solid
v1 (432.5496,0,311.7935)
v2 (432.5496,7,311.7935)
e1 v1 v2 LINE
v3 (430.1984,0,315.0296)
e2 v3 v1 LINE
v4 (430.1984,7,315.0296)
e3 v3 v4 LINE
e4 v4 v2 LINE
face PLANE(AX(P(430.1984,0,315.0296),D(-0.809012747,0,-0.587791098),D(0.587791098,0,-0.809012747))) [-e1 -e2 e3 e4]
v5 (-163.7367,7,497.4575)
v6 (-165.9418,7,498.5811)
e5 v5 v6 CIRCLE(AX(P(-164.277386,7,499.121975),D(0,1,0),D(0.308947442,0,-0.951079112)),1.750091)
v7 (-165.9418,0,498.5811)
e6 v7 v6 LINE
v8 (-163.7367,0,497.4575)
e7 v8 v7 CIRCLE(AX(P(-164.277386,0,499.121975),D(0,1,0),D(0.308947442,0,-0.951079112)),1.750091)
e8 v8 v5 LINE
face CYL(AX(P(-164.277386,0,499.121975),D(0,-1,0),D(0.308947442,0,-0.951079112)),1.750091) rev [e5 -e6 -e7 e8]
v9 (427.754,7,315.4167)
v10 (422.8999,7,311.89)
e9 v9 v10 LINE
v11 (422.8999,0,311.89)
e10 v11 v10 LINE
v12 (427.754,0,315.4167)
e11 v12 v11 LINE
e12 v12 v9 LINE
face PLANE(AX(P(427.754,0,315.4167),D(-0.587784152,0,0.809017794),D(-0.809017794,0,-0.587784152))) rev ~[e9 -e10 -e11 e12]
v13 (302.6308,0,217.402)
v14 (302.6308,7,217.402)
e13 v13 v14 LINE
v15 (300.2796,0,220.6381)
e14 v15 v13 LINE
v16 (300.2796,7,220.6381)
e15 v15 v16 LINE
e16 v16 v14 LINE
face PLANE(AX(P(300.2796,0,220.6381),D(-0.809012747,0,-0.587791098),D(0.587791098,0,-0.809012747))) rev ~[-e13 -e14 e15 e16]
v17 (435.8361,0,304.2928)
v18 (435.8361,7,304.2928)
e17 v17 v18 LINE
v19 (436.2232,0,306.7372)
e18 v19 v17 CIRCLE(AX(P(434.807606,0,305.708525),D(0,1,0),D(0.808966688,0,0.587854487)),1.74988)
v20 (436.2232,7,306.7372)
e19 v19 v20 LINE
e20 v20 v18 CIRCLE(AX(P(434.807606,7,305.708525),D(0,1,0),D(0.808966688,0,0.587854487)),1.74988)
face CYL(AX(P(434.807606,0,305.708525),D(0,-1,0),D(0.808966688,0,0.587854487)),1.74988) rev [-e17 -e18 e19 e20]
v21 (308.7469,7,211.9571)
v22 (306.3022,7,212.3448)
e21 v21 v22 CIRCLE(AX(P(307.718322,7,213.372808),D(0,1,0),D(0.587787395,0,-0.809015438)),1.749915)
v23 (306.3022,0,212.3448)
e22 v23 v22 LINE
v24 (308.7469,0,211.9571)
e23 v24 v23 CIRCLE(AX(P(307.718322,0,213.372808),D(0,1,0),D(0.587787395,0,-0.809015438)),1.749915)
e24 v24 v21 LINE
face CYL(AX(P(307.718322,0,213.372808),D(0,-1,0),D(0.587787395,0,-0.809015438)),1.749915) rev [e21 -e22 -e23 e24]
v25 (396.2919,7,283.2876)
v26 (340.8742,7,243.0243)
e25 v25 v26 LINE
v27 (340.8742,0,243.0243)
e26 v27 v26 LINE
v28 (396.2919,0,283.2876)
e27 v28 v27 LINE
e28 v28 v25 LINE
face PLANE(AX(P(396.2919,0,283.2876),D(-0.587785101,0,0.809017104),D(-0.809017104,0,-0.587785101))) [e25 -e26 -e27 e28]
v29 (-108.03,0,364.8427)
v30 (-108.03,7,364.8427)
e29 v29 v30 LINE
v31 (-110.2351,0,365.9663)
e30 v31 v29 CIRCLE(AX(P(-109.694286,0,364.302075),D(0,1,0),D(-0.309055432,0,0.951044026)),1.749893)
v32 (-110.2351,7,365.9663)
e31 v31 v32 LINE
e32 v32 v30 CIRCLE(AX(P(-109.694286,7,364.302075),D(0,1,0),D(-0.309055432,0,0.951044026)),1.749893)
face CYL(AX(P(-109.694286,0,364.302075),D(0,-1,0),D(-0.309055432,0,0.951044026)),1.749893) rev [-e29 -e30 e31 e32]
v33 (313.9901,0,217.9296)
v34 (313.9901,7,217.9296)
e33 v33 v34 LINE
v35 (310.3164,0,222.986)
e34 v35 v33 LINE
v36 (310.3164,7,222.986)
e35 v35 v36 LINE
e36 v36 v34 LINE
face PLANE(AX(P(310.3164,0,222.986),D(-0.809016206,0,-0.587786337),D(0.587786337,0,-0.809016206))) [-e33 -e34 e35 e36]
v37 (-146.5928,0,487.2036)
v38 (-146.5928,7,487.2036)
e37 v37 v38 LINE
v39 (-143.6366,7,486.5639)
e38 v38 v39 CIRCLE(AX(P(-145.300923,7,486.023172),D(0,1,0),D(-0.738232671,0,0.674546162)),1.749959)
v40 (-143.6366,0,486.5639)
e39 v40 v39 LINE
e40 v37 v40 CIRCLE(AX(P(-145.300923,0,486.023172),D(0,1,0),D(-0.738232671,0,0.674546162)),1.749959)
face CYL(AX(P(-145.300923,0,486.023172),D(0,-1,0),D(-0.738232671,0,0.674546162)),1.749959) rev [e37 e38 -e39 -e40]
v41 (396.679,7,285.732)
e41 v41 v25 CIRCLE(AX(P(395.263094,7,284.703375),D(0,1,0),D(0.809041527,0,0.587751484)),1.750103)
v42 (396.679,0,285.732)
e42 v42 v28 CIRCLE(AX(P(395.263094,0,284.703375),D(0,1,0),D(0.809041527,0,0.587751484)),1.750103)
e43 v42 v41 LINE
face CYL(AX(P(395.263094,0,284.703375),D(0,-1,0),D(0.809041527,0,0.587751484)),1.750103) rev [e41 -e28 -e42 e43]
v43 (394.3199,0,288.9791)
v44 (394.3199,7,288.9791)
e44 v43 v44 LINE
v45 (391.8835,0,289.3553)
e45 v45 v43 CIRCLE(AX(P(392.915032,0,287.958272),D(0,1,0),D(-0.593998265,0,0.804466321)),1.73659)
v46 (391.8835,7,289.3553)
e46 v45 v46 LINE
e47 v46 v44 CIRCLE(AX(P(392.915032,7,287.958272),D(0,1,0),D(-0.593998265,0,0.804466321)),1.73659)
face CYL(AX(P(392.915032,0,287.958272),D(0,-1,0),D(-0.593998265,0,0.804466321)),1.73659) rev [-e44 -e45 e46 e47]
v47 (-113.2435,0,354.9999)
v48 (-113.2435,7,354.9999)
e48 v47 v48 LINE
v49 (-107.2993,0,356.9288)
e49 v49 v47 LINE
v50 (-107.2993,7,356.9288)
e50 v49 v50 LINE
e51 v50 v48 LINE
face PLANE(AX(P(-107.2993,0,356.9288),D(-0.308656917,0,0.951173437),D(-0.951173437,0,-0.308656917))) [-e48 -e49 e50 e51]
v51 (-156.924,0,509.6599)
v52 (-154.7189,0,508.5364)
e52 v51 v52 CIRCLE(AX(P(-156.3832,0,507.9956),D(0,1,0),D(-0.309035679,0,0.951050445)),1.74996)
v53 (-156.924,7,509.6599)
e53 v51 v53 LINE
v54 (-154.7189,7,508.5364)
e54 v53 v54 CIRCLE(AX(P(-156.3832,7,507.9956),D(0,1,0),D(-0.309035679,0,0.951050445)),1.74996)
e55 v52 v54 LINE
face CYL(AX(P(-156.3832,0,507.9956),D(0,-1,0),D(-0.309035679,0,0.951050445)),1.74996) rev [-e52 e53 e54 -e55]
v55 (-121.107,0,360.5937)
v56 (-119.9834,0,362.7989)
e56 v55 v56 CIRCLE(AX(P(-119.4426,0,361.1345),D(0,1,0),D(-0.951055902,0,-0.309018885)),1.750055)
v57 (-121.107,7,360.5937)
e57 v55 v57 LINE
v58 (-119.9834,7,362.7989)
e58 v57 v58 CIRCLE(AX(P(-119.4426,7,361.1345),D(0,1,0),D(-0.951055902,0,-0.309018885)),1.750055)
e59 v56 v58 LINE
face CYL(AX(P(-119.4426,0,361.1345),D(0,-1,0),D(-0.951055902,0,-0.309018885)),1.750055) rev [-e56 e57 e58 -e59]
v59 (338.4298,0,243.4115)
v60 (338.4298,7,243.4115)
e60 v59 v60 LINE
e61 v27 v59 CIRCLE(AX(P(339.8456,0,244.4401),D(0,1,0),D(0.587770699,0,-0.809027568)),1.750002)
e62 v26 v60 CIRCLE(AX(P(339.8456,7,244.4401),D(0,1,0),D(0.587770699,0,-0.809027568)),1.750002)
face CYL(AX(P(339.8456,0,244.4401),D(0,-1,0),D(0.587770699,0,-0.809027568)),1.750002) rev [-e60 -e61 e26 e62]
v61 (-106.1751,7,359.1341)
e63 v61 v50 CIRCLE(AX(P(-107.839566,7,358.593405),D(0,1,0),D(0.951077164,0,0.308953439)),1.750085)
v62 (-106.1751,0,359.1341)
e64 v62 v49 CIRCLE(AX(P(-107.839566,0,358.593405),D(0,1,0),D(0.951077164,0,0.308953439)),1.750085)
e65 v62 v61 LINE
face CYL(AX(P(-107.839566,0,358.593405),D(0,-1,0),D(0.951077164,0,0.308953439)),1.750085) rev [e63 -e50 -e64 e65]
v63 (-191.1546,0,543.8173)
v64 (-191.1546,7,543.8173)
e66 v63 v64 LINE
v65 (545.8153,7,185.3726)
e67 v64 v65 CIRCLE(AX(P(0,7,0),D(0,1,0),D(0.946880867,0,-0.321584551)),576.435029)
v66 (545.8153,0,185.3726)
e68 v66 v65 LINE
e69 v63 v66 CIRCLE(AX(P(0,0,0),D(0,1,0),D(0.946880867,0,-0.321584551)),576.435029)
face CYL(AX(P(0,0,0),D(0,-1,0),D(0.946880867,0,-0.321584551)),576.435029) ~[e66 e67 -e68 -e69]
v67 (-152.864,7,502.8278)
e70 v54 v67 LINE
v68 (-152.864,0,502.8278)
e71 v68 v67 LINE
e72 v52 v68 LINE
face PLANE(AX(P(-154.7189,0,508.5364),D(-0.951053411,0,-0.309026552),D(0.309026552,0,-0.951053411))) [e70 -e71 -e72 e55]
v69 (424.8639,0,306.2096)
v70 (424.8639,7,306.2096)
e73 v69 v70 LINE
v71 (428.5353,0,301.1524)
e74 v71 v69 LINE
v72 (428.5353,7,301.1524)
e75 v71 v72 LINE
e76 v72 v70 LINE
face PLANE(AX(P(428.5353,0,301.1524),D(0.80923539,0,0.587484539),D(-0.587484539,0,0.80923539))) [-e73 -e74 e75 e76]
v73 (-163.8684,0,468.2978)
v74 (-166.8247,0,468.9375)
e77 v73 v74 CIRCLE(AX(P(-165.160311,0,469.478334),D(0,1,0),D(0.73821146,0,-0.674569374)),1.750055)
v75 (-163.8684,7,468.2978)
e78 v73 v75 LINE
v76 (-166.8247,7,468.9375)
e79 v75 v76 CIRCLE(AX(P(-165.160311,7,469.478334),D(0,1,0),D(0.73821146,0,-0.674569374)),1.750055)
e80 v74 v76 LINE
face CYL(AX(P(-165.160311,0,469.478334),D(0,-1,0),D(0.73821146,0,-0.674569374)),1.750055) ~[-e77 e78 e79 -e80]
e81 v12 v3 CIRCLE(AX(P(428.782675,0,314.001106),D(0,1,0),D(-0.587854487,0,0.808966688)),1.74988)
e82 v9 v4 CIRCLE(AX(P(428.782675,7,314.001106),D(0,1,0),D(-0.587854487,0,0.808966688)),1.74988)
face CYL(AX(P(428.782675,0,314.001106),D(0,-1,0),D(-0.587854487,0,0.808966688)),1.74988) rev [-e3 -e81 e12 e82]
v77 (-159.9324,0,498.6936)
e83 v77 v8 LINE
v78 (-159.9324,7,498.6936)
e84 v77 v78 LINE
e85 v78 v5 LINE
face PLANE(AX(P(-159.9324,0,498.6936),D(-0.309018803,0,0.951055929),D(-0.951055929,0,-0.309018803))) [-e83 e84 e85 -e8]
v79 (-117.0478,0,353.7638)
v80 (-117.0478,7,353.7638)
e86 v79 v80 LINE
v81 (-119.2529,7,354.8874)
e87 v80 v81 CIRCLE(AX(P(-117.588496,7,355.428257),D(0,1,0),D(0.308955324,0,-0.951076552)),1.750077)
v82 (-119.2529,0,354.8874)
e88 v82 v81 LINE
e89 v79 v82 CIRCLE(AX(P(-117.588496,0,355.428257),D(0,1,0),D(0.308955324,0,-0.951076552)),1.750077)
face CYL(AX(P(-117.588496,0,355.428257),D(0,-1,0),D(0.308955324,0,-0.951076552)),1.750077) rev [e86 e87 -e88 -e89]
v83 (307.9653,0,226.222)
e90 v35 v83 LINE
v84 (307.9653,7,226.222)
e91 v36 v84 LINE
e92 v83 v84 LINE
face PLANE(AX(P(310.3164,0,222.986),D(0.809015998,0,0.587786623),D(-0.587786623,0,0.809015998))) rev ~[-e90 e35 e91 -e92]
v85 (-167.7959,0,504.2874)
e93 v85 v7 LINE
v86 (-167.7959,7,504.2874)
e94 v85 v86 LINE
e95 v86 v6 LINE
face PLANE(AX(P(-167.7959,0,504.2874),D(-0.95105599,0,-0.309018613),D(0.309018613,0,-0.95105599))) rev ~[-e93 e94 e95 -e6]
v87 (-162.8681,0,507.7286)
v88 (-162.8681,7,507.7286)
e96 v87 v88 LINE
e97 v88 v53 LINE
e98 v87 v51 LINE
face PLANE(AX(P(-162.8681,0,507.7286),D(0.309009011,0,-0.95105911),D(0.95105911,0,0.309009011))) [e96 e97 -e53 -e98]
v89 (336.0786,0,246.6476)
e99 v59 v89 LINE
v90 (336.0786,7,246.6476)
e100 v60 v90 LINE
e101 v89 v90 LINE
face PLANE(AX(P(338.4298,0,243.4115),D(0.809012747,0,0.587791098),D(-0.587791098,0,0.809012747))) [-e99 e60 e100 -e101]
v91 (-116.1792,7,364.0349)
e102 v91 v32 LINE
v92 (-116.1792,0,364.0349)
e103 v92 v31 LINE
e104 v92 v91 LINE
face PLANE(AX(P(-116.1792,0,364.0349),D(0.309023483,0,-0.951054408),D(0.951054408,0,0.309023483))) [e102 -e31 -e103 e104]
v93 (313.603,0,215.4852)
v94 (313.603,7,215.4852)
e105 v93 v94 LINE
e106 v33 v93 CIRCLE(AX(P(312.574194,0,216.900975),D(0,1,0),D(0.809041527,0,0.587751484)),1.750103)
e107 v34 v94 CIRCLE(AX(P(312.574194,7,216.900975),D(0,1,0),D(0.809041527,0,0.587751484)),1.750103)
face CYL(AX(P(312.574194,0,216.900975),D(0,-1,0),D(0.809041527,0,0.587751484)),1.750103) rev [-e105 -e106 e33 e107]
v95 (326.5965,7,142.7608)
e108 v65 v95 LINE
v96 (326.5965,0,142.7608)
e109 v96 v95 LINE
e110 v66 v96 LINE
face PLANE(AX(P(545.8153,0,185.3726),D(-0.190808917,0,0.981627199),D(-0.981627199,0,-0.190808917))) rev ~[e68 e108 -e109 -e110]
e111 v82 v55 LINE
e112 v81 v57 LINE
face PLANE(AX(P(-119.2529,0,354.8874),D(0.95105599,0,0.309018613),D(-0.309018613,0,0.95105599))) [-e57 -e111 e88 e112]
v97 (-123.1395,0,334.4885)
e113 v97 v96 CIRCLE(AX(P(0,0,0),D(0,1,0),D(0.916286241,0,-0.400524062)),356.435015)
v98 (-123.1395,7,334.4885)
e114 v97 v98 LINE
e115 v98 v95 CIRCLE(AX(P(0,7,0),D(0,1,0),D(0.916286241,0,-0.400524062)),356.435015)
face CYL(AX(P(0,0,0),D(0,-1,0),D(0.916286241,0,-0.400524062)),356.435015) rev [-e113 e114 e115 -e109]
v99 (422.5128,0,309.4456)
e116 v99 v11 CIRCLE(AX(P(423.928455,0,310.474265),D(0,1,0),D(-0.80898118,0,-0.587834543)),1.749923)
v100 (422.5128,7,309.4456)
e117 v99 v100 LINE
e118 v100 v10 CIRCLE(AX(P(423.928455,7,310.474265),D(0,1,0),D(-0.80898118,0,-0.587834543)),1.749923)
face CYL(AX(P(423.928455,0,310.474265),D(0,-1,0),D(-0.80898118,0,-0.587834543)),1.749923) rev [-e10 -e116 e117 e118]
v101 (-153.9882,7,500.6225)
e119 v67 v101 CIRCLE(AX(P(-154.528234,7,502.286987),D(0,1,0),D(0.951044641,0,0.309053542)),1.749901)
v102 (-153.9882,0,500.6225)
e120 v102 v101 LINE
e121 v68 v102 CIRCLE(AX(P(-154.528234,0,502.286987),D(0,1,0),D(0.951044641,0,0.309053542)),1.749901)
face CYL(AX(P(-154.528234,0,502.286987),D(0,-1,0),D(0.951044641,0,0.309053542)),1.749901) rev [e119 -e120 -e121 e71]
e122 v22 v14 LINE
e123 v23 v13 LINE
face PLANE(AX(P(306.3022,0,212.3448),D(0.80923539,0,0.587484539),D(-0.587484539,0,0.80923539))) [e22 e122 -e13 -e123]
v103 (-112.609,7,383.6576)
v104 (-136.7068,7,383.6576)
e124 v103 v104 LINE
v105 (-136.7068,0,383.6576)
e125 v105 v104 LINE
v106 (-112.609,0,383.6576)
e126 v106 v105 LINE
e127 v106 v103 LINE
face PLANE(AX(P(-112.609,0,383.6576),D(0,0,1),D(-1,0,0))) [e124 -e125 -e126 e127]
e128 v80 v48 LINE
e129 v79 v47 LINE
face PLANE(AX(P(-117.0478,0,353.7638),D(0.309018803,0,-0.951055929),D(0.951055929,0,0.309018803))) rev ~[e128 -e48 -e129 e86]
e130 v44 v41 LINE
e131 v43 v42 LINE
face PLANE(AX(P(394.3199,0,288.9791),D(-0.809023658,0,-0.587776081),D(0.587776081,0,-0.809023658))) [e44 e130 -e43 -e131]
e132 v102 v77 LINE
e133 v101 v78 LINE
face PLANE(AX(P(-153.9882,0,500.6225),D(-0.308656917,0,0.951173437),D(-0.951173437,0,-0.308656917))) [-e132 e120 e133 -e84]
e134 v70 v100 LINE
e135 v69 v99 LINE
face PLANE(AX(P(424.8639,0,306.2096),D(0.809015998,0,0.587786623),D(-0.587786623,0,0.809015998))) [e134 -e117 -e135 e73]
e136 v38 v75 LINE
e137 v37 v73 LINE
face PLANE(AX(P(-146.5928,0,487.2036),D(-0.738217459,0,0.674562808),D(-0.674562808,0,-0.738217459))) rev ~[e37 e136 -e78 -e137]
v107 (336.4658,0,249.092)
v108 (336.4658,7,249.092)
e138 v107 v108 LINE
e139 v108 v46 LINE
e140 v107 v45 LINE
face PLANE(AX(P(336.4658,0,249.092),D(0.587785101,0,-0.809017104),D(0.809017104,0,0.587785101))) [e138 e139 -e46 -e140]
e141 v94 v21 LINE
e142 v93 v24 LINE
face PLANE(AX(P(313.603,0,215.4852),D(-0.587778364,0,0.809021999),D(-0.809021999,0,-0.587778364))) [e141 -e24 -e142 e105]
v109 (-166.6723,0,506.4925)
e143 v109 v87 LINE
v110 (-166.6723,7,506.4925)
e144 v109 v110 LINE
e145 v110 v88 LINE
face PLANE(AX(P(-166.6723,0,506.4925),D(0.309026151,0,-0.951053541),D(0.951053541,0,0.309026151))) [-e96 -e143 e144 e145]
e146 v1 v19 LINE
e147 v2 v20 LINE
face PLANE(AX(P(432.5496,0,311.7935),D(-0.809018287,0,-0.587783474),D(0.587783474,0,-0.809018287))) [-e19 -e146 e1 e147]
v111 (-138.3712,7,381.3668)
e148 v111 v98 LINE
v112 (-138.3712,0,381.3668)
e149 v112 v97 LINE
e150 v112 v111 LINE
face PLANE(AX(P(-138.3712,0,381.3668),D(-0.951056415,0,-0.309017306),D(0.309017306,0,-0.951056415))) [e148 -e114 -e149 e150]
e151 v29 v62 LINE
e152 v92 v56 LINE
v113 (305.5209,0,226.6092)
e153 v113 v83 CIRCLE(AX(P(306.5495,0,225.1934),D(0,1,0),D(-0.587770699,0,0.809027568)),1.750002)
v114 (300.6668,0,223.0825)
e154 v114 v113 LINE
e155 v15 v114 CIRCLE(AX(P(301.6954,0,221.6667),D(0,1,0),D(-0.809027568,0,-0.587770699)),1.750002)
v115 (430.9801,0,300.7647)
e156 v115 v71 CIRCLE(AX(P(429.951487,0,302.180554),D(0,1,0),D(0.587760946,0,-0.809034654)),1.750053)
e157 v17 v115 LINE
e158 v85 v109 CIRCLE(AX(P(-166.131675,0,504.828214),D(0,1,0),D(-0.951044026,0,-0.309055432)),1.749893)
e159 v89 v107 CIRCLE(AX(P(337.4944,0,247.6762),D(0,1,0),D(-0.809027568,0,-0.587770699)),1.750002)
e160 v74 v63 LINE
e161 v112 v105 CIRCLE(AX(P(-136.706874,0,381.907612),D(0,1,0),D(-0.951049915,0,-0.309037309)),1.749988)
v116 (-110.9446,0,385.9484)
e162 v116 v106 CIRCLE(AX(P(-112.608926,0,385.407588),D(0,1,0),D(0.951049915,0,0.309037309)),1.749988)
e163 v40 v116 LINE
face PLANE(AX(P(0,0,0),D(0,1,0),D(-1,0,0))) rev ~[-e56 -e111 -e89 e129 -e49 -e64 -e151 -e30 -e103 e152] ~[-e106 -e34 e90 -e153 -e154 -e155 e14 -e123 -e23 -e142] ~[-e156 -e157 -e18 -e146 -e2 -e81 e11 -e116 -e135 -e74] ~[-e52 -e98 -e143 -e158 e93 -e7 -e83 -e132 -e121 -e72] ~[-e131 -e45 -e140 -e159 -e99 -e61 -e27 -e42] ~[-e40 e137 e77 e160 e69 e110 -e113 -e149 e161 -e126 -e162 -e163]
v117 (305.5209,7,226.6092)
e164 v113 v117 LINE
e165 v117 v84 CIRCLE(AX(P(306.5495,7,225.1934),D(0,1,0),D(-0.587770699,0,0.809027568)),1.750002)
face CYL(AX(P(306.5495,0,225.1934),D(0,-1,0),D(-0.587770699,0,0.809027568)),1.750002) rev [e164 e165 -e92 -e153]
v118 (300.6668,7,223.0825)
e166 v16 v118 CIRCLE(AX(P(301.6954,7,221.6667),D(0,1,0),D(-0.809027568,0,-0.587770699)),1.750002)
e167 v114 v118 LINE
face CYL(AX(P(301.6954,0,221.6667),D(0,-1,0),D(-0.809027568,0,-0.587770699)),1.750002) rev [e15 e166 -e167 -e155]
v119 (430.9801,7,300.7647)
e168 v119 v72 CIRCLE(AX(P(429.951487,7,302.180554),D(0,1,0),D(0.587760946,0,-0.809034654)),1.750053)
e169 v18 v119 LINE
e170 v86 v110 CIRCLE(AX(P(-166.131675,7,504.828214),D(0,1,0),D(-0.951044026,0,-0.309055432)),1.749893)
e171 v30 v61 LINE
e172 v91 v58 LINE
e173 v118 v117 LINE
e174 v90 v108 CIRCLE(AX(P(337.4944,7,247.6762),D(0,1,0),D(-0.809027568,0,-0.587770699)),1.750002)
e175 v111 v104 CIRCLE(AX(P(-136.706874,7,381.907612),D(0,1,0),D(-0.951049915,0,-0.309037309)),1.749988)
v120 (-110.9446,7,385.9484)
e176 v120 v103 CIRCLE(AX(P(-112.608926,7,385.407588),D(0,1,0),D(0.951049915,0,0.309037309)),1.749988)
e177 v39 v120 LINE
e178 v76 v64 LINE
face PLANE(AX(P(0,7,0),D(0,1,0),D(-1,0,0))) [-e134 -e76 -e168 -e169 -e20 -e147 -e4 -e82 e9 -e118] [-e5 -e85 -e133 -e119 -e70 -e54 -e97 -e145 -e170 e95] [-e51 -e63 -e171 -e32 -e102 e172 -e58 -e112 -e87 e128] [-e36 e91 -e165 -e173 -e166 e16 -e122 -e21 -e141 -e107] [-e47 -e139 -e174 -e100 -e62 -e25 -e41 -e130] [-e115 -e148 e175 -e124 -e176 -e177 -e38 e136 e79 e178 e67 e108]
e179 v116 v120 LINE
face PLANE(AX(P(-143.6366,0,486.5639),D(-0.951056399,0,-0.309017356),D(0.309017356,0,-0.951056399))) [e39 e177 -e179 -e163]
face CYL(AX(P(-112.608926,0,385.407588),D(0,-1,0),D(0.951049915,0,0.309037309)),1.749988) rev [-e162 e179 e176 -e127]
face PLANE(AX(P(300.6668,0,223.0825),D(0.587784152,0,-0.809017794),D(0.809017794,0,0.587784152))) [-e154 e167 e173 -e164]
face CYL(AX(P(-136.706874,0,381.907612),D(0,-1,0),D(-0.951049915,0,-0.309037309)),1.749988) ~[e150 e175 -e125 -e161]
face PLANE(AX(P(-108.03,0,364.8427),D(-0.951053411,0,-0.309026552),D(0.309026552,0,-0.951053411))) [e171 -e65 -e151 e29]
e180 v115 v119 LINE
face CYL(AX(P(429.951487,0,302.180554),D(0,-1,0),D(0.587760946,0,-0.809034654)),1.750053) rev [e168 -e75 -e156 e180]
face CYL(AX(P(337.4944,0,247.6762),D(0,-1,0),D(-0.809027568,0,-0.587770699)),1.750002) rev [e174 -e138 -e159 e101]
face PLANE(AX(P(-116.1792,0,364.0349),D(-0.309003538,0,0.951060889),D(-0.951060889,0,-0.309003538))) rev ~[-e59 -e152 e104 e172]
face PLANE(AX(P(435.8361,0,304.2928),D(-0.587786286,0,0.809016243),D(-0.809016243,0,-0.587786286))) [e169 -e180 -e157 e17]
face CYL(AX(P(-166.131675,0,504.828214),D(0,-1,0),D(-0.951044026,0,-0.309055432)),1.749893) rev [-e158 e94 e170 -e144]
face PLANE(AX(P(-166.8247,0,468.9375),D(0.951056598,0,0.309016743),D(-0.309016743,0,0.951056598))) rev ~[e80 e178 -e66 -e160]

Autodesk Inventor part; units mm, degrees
ref_plane "YZ Plane" through (0, 0, 0) normal (1, 0, 0) x (0, 1, 0)
ref_plane "XZ Plane" through (0, 0, 0) normal (0, 1, 0) x (-1, 0, 0)
ref_plane "XY Plane" through (0, 0, 0) normal (0, 0, 1) x (1, 0, 0)
sketch "Sketch1" plane through (0, 0, 0) normal (0, 1, 0) x (-1, 0, 0)
  line L0 (-545.8153, 185.3726) -> (-326.5965, 142.7608)
  line L1 (-545.8153, -185.3726) -> (-326.5965, -142.7608)
  arc A0 (-545.8153, -185.3726) -> (-545.8153, 185.3726) centre (0, 0) ccw
  arc A1 (374.3691, 3.75) -> (372.6191, 2) centre (374.3691, 2) ccw
  arc A2 (372.6191, -2) -> (374.3691, -3.75) centre (374.3691, -2) ccw
  line L2 (380.3691, 3.75) -> (374.3691, 3.75)
  line L3 (374.3691, -3.75) -> (380.3691, -3.75)
  line L4 (382.1191, 2) -> (382.1191, -2)
  arc A3 (380.3691, -3.75) -> (382.1191, -2) centre (380.3691, -2) ccw
  arc A4 (382.1191, 2) -> (380.3691, 3.75) centre (380.3691, 2) ccw
  line L5 (372.6191, -2) -> (372.6191, 2)
  line L6 (523.7076, 2) -> (523.7076, -2)
  arc A5 (523.7076, -2) -> (525.4576, -3.75) centre (525.4576, -2) ccw
  arc A6 (525.4576, 3.75) -> (523.7076, 2) centre (525.4576, 2) ccw
  line L7 (531.4576, -3.75) -> (525.4576, -3.75)
  line L8 (525.4576, 3.75) -> (531.4576, 3.75)
  arc A7 (531.4576, -3.75) -> (533.2076, -2) centre (531.4576, -2) ccw
  line L9 (533.2076, -2) -> (533.2076, 2)
  arc A8 (533.2076, 2) -> (531.4576, 3.75) centre (531.4576, 2) ccw
  arc A9 (-326.5965, -142.7608) -> (-326.5965, 142.7608) centre (0, 0) ccw
  line L10 (116.1792, 364.0349) -> (119.9834, 362.7989)
  arc A10 (121.107, 360.5937) -> (119.9834, 362.7989) centre (119.4426, 361.1345) ccw
  arc A11 (116.1792, 364.0349) -> (113.9741, 362.9114) centre (115.6384, 362.3706) ccw
  line L11 (119.2529, 354.8874) -> (121.107, 360.5937)
  line L12 (113.9741, 362.9114) -> (112.12, 357.205)
  line L13 (117.0478, 353.7638) -> (113.2435, 354.9999)
  arc A12 (112.12, 357.205) -> (113.2435, 354.9999) centre (113.7843, 356.6642) ccw
  arc A13 (117.0478, 353.7638) -> (119.2529, 354.8874) centre (117.5885, 355.4282) ccw
  arc A14 (163.7367, 497.4575) -> (165.9418, 498.5811) centre (164.2774, 499.1218) ccw
  arc A15 (158.8089, 500.8987) -> (159.9324, 498.6936) centre (160.4732, 500.3579) ccw
  line L14 (159.9324, 498.6936) -> (163.7367, 497.4575)
  line L15 (158.8089, 500.8987) -> (160.663, 506.605)
  line L16 (167.7959, 504.2874) -> (165.9418, 498.5811)
  arc A16 (162.8681, 507.7286) -> (160.663, 506.605) centre (162.3273, 506.0642) ccw
  line L17 (166.6723, 506.4925) -> (162.8681, 507.7286)
  arc A17 (167.7959, 504.2874) -> (166.6723, 506.4925) centre (166.1315, 504.8282) ccw
  line L18 (-310.3164, 222.986) -> (-307.9653, 226.222)
  arc A18 (-305.5209, 226.6092) -> (-307.9653, 226.222) centre (-306.5495, 225.1934) ccw
  arc A19 (-310.3164, 222.986) -> (-309.9293, 220.5416) centre (-308.9007, 221.9573) ccw
  line L19 (-300.6668, 223.0825) -> (-305.5209, 226.6092)
  line L20 (-309.9293, 220.5416) -> (-305.0752, 217.0148)
  line L21 (-300.2796, 220.6381) -> (-302.6308, 217.402)
  arc A20 (-305.0752, 217.0148) -> (-302.6308, 217.402) centre (-304.0466, 218.4306) ccw
  arc A21 (-300.2796, 220.6381) -> (-300.6668, 223.0825) centre (-301.6954, 221.6667) ccw
  arc A22 (-422.5128, 309.4456) -> (-422.8999, 311.89) centre (-423.9286, 310.4743) ccw
  arc A23 (-427.3083, 305.8224) -> (-424.8639, 306.2096) centre (-426.2797, 307.2382) ccw
  line L22 (-424.8639, 306.2096) -> (-422.5128, 309.4456)
  line L23 (-427.3083, 305.8224) -> (-432.1624, 309.3491)
  line L24 (-427.754, 315.4167) -> (-422.8999, 311.89)
  arc A24 (-432.5496, 311.7935) -> (-432.1624, 309.3491) centre (-431.1338, 310.7649) ccw
  line L25 (-430.1984, 315.0296) -> (-432.5496, 311.7935)
  arc A25 (-427.754, 315.4167) -> (-430.1984, 315.0296) centre (-428.7827, 314.001) ccw
  line L26 (-307.9653, -226.222) -> (-310.3164, -222.986)
  arc A26 (-309.9293, -220.5416) -> (-310.3164, -222.986) centre (-308.9007, -221.9573) ccw
  arc A27 (-307.9653, -226.222) -> (-305.5209, -226.6092) centre (-306.5495, -225.1934) ccw
  line L27 (-305.0752, -217.0148) -> (-309.9293, -220.5416)
  line L28 (-305.5209, -226.6092) -> (-300.6668, -223.0825)
  line L29 (-302.6308, -217.402) -> (-300.2796, -220.6381)
  arc A28 (-300.6668, -223.0825) -> (-300.2796, -220.6381) centre (-301.6954, -221.6667) ccw
  arc A29 (-302.6308, -217.402) -> (-305.0752, -217.0148) centre (-304.0466, -218.4306) ccw
  arc A30 (-424.8639, -306.2096) -> (-427.3083, -305.8224) centre (-426.2797, -307.2382) ccw
  arc A31 (-422.8999, -311.89) -> (-422.5128, -309.4456) centre (-423.9286, -310.4743) ccw
  line L30 (-422.5128, -309.4456) -> (-424.8639, -306.2096)
  line L31 (-422.8999, -311.89) -> (-427.754, -315.4167)
  line L32 (-432.1624, -309.3491) -> (-427.3083, -305.8224)
  arc A32 (-430.1984, -315.0296) -> (-427.754, -315.4167) centre (-428.7827, -314.001) ccw
  line L33 (-432.5496, -311.7935) -> (-430.1984, -315.0296)
  arc A33 (-432.1624, -309.3491) -> (-432.5496, -311.7935) centre (-431.1338, -310.7649) ccw
  line L34 (119.9834, -362.7989) -> (116.1792, -364.0349)
  arc A34 (113.9741, -362.9114) -> (116.1792, -364.0349) centre (115.6384, -362.3706) ccw
  arc A35 (119.9834, -362.7989) -> (121.107, -360.5937) centre (119.4426, -361.1345) ccw
  line L35 (112.12, -357.205) -> (113.9741, -362.9114)
  line L36 (121.107, -360.5937) -> (119.2529, -354.8874)
  line L37 (113.2435, -354.9999) -> (117.0478, -353.7638)
  arc A36 (119.2529, -354.8874) -> (117.0478, -353.7638) centre (117.5885, -355.4282) ccw
  arc A37 (113.2435, -354.9999) -> (112.12, -357.205) centre (113.7843, -356.6642) ccw
  arc A38 (159.9324, -498.6936) -> (158.8089, -500.8987) centre (160.4732, -500.3579) ccw
  arc A39 (165.9418, -498.5811) -> (163.7367, -497.4575) centre (164.2774, -499.1218) ccw
  line L38 (163.7367, -497.4575) -> (159.9324, -498.6936)
  line L39 (165.9418, -498.5811) -> (167.7959, -504.2874)
  line L40 (160.663, -506.605) -> (158.8089, -500.8987)
  arc A40 (166.6723, -506.4925) -> (167.7959, -504.2874) centre (166.1315, -504.8282) ccw
  line L41 (162.8681, -507.7286) -> (166.6723, -506.4925)
  arc A41 (160.663, -506.605) -> (162.8681, -507.7286) centre (162.3273, -506.0642) ccw
  line L42 (225.4462, 74.1184) -> (211.8442, 74.1184)
  line L43 (225.4462, 74.1184) -> (225.4462, 49.1184)
  arc A42 (405.4604, -13.75) -> (407.1248, -11.4592) centre (405.4604, -12) ccw
  arc A43 (496.0158, -11.1361) -> (497.5378, -13.75) centre (497.5378, -12) ccw
  line L44 (508.6578, 11.1361) -> (496.0158, -11.1361)
  arc A44 (508.6578, 11.1361) -> (507.1359, 13.75) centre (507.1359, 12) ccw
  arc A45 (416.8691, -2) -> (418.6191, -3.75) centre (418.6191, -2) ccw
  line L45 (399.6781, 11.4592) -> (407.1248, -11.4592)
  line L46 (416.8691, 2) -> (416.8691, -2)
  arc A46 (401.3425, 13.75) -> (399.6781, 11.4592) centre (401.3425, 12) ccw
  arc A47 (418.6191, 3.75) -> (416.8691, 2) centre (418.6191, 2) ccw
  line L47 (507.1359, 13.75) -> (401.3425, 13.75)
  line L48 (418.6191, -3.75) -> (487.1191, -3.75)
  line L49 (487.1191, 3.75) -> (418.6191, 3.75)
  arc A48 (487.1191, -3.75) -> (488.8691, -2.0136) centre (487.1326, -2.0136) ccw
  line L50 (488.8691, -2.0136) -> (488.8691, 2)
  arc A49 (488.8691, 2) -> (487.1191, 3.75) centre (487.1191, 2) ccw
  line L51 (405.4604, -13.75) -> (356.1697, -13.75)
  line L52 (497.5378, -13.75) -> (576.271, -13.75)
  arc A50 (163.8684, 468.2978) -> (166.8247, 468.9375) centre (165.1603, 469.4783) ccw
  line L53 (146.5928, 487.2036) -> (163.8684, 468.2978)
  arc A51 (146.5928, 487.2036) -> (143.6366, 486.5639) centre (145.3009, 486.0231) ccw
  line L54 (152.9839, 464.32) -> (149.1668, 465.5602)
  arc A52 (154.0946, 462.119) -> (152.9839, 464.32) centre (152.4473, 462.6685) ccw
  arc A53 (149.1668, 465.5602) -> (146.9616, 464.4366) centre (148.626, 463.8959) ccw
  arc A54 (110.9446, 385.9484) -> (112.609, 383.6576) centre (112.609, 385.4076) ccw
  arc A55 (138.3712, 381.3668) -> (136.7068, 383.6576) centre (136.7068, 381.9076) ccw
  line L55 (112.609, 383.6576) -> (136.7068, 383.6576)
  line L56 (126.9175, 397.0841) -> (130.7218, 395.8481)
  arc A56 (125.794, 399.2893) -> (126.9175, 397.0841) centre (127.4583, 398.7485) ccw
  line L57 (143.6366, 486.5639) -> (110.9446, 385.9484)
  line L58 (146.9616, 464.4366) -> (125.794, 399.2893)
  line L59 (132.9269, 396.9716) -> (154.0946, 462.119)
  arc A57 (130.7218, 395.8481) -> (132.9269, 396.9716) centre (131.2625, 397.5124) ccw
  line L60 (138.3712, 381.3668) -> (123.1395, 334.4885)
  line L61 (166.8247, 468.9375) -> (191.1546, 543.8173)
  line L62 (-394.3199, 288.9791) -> (-396.679, 285.732)
  arc A58 (-391.8835, 289.3553) -> (-394.3199, 288.9791) centre (-392.915, 287.9584) ccw
  arc A59 (-396.679, 285.732) -> (-396.2919, 283.2876) centre (-395.2632, 284.7034) ccw
  line L63 (-338.4298, 243.4115) -> (-336.0786, 246.6476)
  arc A60 (-340.8742, 243.0243) -> (-338.4298, 243.4115) centre (-339.8456, 244.4401) ccw
  line L64 (-396.2919, 283.2876) -> (-340.8742, 243.0243)
  line L65 (-336.4658, 249.092) -> (-391.8835, 289.3553)
  arc A61 (-336.0786, 246.6476) -> (-336.4658, 249.092) centre (-337.4944, 247.6762) ccw
  line L66 (-396.687, -285.7211) -> (-394.3279, -288.9681)
  arc A62 (-396.2919, -283.2876) -> (-396.687, -285.7211) centre (-395.2821, -284.7004) ccw
  arc A63 (-394.3279, -288.9681) -> (-391.8835, -289.3553) centre (-392.9121, -287.9395) ccw
  line L67 (-336.0786, -246.6476) -> (-338.4298, -243.4115)
  arc A64 (-336.4658, -249.092) -> (-336.0786, -246.6476) centre (-337.4944, -247.6762) ccw
  line L68 (-391.8835, -289.3553) -> (-336.4658, -249.092)
  line L69 (-340.8742, -243.0243) -> (-396.2919, -283.2876)
  arc A65 (-338.4298, -243.4115) -> (-340.8742, -243.0243) centre (-339.8456, -244.4401) ccw
  arc A66 (142.6862, -475.1804) -> (140.6706, -477.4355) centre (142.3349, -476.8947) ccw
  line L70 (167.775, -480.3211) -> (142.6862, -475.1804)
  arc A67 (167.775, -480.3211) -> (169.7906, -478.0659) centre (168.1263, -478.6067) ccw
  line L71 (149.1539, -465.5644) -> (152.971, -464.3241)
  arc A68 (146.9616, -464.4366) -> (149.1539, -465.5644) centre (148.6173, -463.9129) ccw
  arc A69 (152.971, -464.3241) -> (154.0946, -462.119) centre (152.4302, -462.6598) ccw
  arc A70 (137.0987, -377.4504) -> (134.4057, -376.5754) centre (135.4343, -377.9912) ccw
  arc A71 (112.2171, -389.8648) -> (114.9101, -390.7398) centre (113.8815, -389.324) ccw
  line L72 (134.4057, -376.5754) -> (114.9101, -390.7398)
  line L73 (130.7218, -395.8481) -> (126.9175, -397.0841)
  arc A72 (132.9269, -396.9716) -> (130.7218, -395.8481) centre (131.2625, -397.5124) ccw
  line L74 (169.7906, -478.0659) -> (137.0987, -377.4504)
  line L75 (154.0946, -462.119) -> (132.9269, -396.9716)
  line L76 (125.794, -399.2893) -> (146.9616, -464.4366)
  arc A73 (126.9175, -397.0841) -> (125.794, -399.2893) centre (127.4583, -398.7485) ccw
  line L77 (112.2171, -389.8648) -> (96.9855, -342.9865)
  line L78 (140.6706, -477.4355) -> (165.0005, -552.3153)
  line L79 (-432.5496, 311.7935) -> (-436.2232, 306.7372)
  line L80 (-435.8361, 304.2928) -> (-430.9801, 300.7647)
  line L81 (-428.5353, 301.1524) -> (-424.8639, 306.2096)
  arc A74 (-436.2232, 306.7372) -> (-435.8361, 304.2928) centre (-434.8075, 305.7085) ccw
  arc A75 (-430.9801, 300.7647) -> (-428.5353, 301.1524) centre (-429.9515, 302.1805) ccw
  line L82 (-310.3164, 222.986) -> (-313.9901, 217.9296)
  line L83 (-313.603, 215.4852) -> (-308.7469, 211.9571)
  line L84 (-306.3022, 212.3448) -> (-302.6308, 217.402)
  arc A76 (-313.9901, 217.9296) -> (-313.603, 215.4852) centre (-312.5743, 216.901) ccw
  arc A77 (-308.7469, 211.9571) -> (-306.3022, 212.3448) centre (-307.7183, 213.3729) ccw
  line L85 (-430.1984, -315.0296) -> (-426.5248, -320.086)
  arc A78 (-426.5248, -320.086) -> (-424.0804, -320.4731) centre (-425.109, -319.0573) ccw
  line L86 (-424.0804, -320.4731) -> (-419.2244, -316.945)
  arc A79 (-419.2244, -316.945) -> (-418.8376, -314.5001) centre (-420.253, -315.5292) ccw
  line L87 (-418.8376, -314.5001) -> (-422.5128, -309.4456)
  line L88 (-307.9653, -226.222) -> (-304.2917, -231.2784)
  arc A80 (-304.2917, -231.2784) -> (-301.8472, -231.6655) centre (-302.8759, -230.2498) ccw
  line L89 (-301.8472, -231.6655) -> (-296.9912, -228.1374)
  line L90 (-296.6045, -225.6925) -> (-300.2796, -220.6381)
  arc A81 (-296.9912, -228.1374) -> (-296.6045, -225.6925) centre (-298.0199, -226.7217) ccw
  line L91 (166.6723, -506.4925) -> (172.6164, -504.5612)
  arc A82 (172.6164, -504.5612) -> (173.74, -502.356) centre (172.0756, -502.8968) ccw
  line L92 (173.74, -502.356) -> (171.8852, -496.6475)
  arc A83 (171.8852, -496.6475) -> (169.6794, -495.5241) centre (170.2208, -497.1882) ccw
  line L93 (169.6794, -495.5241) -> (163.7367, -497.4575)
  line L94 (119.9834, -362.7989) -> (125.9275, -360.8675)
  arc A84 (125.9275, -360.8675) -> (127.0511, -358.6624) centre (125.3867, -359.2032) ccw
  line L95 (127.0511, -358.6624) -> (125.1963, -352.9538)
  line L96 (122.9905, -351.8304) -> (117.0478, -353.7638)
  arc A85 (125.1963, -352.9538) -> (122.9905, -351.8304) centre (123.5319, -353.4946) ccw
  line L97 (533.2076, 2) -> (533.2076, 8.25)
  arc A86 (533.2076, 8.25) -> (531.4576, 10) centre (531.4576, 8.25) ccw
  line L98 (531.4576, 10) -> (525.4552, 10)
  arc A87 (525.4552, 10) -> (523.7052, 8.2493) centre (525.4552, 8.25) ccw
  line L99 (523.7052, 8.2493) -> (523.7076, 2)
  line L100 (382.1191, 2) -> (382.1191, 8.25)
  arc A88 (382.1191, 8.25) -> (380.3691, 10) centre (380.3691, 8.25) ccw
  line L101 (380.3691, 10) -> (374.3668, 10)
  line L102 (372.6168, 8.2493) -> (372.6191, 2)
  arc A89 (374.3668, 10) -> (372.6168, 8.2493) centre (374.3668, 8.25) ccw
  line L103 (162.8681, 507.7286) -> (156.924, 509.6599)
  arc A90 (156.924, 509.6599) -> (154.7189, 508.5364) centre (156.3832, 507.9956) ccw
  line L104 (154.7189, 508.5364) -> (152.864, 502.8278)
  arc A91 (152.864, 502.8278) -> (153.9882, 500.6225) centre (154.5284, 502.287) ccw
  line L105 (153.9882, 500.6225) -> (159.9324, 498.6936)
  line L106 (116.1792, 364.0349) -> (110.2351, 365.9663)
  arc A92 (110.2351, 365.9663) -> (108.03, 364.8427) centre (109.6943, 364.3019) ccw
  line L107 (108.03, 364.8427) -> (106.1751, 359.1341)
  line L108 (107.2993, 356.9288) -> (113.2435, 354.9999)
  arc A93 (106.1751, 359.1341) -> (107.2993, 356.9288) centre (107.8395, 358.5934) ccw
  point P0 (494.5322, -13.75)
  point P1 (417.3817, -3.2374)
  point P2 (417.3817, 3.2374)
  point P3 (488.3566, 3.2374)
  point P4 (165.8959, 466.0791)
  point P5 (147.8315, 465.4551)
  point P6 (125.8991, 397.954)
  point P7 (132.057, 395.9532)
  point P8 (-396.9917, 284.4297)
  point P9 (-339.5718, 242.7117)
  point P10 (-335.766, 247.95)
  point P11 (-393.1859, -289.6679)
  point P12 (-335.766, -247.95)
  point P13 (-339.5718, -242.7117)
  point P14 (139.7418, -474.577)
  point P15 (153.9895, -463.4543)
  point P16 (132.057, -395.9532)
  point P17 (125.8991, -397.954)
  point P18 (-302.6308, 217.402)
  point P19 (113.2435, 354.9999)
  dimension "d34" = 1152.87
  dimension "d45" = 7.5
  dimension "d48" = 712.87
  dimension "d60" = 360
  dimension "d62" = 13.602
  dimension "d63" = 25
  dimension "d72" = 7.5
  dimension "d74" = 3.5
  dimension "d75" = 3.5
  dimension "d79" = 0
  dimension "d80" = 8
  dimension "d81" = 1.75
  dimension "d84" = 8
  dimension "d85" = 1.75
  dimension "d88" = 360
extrude "Extrusion1" add sketch "Sketch1" along normal blind 7 contours A0 L61 A50 L53 A51 L57 A54 L55 A55 L60 A9 L0
properties part number "Level 2a - V2"
